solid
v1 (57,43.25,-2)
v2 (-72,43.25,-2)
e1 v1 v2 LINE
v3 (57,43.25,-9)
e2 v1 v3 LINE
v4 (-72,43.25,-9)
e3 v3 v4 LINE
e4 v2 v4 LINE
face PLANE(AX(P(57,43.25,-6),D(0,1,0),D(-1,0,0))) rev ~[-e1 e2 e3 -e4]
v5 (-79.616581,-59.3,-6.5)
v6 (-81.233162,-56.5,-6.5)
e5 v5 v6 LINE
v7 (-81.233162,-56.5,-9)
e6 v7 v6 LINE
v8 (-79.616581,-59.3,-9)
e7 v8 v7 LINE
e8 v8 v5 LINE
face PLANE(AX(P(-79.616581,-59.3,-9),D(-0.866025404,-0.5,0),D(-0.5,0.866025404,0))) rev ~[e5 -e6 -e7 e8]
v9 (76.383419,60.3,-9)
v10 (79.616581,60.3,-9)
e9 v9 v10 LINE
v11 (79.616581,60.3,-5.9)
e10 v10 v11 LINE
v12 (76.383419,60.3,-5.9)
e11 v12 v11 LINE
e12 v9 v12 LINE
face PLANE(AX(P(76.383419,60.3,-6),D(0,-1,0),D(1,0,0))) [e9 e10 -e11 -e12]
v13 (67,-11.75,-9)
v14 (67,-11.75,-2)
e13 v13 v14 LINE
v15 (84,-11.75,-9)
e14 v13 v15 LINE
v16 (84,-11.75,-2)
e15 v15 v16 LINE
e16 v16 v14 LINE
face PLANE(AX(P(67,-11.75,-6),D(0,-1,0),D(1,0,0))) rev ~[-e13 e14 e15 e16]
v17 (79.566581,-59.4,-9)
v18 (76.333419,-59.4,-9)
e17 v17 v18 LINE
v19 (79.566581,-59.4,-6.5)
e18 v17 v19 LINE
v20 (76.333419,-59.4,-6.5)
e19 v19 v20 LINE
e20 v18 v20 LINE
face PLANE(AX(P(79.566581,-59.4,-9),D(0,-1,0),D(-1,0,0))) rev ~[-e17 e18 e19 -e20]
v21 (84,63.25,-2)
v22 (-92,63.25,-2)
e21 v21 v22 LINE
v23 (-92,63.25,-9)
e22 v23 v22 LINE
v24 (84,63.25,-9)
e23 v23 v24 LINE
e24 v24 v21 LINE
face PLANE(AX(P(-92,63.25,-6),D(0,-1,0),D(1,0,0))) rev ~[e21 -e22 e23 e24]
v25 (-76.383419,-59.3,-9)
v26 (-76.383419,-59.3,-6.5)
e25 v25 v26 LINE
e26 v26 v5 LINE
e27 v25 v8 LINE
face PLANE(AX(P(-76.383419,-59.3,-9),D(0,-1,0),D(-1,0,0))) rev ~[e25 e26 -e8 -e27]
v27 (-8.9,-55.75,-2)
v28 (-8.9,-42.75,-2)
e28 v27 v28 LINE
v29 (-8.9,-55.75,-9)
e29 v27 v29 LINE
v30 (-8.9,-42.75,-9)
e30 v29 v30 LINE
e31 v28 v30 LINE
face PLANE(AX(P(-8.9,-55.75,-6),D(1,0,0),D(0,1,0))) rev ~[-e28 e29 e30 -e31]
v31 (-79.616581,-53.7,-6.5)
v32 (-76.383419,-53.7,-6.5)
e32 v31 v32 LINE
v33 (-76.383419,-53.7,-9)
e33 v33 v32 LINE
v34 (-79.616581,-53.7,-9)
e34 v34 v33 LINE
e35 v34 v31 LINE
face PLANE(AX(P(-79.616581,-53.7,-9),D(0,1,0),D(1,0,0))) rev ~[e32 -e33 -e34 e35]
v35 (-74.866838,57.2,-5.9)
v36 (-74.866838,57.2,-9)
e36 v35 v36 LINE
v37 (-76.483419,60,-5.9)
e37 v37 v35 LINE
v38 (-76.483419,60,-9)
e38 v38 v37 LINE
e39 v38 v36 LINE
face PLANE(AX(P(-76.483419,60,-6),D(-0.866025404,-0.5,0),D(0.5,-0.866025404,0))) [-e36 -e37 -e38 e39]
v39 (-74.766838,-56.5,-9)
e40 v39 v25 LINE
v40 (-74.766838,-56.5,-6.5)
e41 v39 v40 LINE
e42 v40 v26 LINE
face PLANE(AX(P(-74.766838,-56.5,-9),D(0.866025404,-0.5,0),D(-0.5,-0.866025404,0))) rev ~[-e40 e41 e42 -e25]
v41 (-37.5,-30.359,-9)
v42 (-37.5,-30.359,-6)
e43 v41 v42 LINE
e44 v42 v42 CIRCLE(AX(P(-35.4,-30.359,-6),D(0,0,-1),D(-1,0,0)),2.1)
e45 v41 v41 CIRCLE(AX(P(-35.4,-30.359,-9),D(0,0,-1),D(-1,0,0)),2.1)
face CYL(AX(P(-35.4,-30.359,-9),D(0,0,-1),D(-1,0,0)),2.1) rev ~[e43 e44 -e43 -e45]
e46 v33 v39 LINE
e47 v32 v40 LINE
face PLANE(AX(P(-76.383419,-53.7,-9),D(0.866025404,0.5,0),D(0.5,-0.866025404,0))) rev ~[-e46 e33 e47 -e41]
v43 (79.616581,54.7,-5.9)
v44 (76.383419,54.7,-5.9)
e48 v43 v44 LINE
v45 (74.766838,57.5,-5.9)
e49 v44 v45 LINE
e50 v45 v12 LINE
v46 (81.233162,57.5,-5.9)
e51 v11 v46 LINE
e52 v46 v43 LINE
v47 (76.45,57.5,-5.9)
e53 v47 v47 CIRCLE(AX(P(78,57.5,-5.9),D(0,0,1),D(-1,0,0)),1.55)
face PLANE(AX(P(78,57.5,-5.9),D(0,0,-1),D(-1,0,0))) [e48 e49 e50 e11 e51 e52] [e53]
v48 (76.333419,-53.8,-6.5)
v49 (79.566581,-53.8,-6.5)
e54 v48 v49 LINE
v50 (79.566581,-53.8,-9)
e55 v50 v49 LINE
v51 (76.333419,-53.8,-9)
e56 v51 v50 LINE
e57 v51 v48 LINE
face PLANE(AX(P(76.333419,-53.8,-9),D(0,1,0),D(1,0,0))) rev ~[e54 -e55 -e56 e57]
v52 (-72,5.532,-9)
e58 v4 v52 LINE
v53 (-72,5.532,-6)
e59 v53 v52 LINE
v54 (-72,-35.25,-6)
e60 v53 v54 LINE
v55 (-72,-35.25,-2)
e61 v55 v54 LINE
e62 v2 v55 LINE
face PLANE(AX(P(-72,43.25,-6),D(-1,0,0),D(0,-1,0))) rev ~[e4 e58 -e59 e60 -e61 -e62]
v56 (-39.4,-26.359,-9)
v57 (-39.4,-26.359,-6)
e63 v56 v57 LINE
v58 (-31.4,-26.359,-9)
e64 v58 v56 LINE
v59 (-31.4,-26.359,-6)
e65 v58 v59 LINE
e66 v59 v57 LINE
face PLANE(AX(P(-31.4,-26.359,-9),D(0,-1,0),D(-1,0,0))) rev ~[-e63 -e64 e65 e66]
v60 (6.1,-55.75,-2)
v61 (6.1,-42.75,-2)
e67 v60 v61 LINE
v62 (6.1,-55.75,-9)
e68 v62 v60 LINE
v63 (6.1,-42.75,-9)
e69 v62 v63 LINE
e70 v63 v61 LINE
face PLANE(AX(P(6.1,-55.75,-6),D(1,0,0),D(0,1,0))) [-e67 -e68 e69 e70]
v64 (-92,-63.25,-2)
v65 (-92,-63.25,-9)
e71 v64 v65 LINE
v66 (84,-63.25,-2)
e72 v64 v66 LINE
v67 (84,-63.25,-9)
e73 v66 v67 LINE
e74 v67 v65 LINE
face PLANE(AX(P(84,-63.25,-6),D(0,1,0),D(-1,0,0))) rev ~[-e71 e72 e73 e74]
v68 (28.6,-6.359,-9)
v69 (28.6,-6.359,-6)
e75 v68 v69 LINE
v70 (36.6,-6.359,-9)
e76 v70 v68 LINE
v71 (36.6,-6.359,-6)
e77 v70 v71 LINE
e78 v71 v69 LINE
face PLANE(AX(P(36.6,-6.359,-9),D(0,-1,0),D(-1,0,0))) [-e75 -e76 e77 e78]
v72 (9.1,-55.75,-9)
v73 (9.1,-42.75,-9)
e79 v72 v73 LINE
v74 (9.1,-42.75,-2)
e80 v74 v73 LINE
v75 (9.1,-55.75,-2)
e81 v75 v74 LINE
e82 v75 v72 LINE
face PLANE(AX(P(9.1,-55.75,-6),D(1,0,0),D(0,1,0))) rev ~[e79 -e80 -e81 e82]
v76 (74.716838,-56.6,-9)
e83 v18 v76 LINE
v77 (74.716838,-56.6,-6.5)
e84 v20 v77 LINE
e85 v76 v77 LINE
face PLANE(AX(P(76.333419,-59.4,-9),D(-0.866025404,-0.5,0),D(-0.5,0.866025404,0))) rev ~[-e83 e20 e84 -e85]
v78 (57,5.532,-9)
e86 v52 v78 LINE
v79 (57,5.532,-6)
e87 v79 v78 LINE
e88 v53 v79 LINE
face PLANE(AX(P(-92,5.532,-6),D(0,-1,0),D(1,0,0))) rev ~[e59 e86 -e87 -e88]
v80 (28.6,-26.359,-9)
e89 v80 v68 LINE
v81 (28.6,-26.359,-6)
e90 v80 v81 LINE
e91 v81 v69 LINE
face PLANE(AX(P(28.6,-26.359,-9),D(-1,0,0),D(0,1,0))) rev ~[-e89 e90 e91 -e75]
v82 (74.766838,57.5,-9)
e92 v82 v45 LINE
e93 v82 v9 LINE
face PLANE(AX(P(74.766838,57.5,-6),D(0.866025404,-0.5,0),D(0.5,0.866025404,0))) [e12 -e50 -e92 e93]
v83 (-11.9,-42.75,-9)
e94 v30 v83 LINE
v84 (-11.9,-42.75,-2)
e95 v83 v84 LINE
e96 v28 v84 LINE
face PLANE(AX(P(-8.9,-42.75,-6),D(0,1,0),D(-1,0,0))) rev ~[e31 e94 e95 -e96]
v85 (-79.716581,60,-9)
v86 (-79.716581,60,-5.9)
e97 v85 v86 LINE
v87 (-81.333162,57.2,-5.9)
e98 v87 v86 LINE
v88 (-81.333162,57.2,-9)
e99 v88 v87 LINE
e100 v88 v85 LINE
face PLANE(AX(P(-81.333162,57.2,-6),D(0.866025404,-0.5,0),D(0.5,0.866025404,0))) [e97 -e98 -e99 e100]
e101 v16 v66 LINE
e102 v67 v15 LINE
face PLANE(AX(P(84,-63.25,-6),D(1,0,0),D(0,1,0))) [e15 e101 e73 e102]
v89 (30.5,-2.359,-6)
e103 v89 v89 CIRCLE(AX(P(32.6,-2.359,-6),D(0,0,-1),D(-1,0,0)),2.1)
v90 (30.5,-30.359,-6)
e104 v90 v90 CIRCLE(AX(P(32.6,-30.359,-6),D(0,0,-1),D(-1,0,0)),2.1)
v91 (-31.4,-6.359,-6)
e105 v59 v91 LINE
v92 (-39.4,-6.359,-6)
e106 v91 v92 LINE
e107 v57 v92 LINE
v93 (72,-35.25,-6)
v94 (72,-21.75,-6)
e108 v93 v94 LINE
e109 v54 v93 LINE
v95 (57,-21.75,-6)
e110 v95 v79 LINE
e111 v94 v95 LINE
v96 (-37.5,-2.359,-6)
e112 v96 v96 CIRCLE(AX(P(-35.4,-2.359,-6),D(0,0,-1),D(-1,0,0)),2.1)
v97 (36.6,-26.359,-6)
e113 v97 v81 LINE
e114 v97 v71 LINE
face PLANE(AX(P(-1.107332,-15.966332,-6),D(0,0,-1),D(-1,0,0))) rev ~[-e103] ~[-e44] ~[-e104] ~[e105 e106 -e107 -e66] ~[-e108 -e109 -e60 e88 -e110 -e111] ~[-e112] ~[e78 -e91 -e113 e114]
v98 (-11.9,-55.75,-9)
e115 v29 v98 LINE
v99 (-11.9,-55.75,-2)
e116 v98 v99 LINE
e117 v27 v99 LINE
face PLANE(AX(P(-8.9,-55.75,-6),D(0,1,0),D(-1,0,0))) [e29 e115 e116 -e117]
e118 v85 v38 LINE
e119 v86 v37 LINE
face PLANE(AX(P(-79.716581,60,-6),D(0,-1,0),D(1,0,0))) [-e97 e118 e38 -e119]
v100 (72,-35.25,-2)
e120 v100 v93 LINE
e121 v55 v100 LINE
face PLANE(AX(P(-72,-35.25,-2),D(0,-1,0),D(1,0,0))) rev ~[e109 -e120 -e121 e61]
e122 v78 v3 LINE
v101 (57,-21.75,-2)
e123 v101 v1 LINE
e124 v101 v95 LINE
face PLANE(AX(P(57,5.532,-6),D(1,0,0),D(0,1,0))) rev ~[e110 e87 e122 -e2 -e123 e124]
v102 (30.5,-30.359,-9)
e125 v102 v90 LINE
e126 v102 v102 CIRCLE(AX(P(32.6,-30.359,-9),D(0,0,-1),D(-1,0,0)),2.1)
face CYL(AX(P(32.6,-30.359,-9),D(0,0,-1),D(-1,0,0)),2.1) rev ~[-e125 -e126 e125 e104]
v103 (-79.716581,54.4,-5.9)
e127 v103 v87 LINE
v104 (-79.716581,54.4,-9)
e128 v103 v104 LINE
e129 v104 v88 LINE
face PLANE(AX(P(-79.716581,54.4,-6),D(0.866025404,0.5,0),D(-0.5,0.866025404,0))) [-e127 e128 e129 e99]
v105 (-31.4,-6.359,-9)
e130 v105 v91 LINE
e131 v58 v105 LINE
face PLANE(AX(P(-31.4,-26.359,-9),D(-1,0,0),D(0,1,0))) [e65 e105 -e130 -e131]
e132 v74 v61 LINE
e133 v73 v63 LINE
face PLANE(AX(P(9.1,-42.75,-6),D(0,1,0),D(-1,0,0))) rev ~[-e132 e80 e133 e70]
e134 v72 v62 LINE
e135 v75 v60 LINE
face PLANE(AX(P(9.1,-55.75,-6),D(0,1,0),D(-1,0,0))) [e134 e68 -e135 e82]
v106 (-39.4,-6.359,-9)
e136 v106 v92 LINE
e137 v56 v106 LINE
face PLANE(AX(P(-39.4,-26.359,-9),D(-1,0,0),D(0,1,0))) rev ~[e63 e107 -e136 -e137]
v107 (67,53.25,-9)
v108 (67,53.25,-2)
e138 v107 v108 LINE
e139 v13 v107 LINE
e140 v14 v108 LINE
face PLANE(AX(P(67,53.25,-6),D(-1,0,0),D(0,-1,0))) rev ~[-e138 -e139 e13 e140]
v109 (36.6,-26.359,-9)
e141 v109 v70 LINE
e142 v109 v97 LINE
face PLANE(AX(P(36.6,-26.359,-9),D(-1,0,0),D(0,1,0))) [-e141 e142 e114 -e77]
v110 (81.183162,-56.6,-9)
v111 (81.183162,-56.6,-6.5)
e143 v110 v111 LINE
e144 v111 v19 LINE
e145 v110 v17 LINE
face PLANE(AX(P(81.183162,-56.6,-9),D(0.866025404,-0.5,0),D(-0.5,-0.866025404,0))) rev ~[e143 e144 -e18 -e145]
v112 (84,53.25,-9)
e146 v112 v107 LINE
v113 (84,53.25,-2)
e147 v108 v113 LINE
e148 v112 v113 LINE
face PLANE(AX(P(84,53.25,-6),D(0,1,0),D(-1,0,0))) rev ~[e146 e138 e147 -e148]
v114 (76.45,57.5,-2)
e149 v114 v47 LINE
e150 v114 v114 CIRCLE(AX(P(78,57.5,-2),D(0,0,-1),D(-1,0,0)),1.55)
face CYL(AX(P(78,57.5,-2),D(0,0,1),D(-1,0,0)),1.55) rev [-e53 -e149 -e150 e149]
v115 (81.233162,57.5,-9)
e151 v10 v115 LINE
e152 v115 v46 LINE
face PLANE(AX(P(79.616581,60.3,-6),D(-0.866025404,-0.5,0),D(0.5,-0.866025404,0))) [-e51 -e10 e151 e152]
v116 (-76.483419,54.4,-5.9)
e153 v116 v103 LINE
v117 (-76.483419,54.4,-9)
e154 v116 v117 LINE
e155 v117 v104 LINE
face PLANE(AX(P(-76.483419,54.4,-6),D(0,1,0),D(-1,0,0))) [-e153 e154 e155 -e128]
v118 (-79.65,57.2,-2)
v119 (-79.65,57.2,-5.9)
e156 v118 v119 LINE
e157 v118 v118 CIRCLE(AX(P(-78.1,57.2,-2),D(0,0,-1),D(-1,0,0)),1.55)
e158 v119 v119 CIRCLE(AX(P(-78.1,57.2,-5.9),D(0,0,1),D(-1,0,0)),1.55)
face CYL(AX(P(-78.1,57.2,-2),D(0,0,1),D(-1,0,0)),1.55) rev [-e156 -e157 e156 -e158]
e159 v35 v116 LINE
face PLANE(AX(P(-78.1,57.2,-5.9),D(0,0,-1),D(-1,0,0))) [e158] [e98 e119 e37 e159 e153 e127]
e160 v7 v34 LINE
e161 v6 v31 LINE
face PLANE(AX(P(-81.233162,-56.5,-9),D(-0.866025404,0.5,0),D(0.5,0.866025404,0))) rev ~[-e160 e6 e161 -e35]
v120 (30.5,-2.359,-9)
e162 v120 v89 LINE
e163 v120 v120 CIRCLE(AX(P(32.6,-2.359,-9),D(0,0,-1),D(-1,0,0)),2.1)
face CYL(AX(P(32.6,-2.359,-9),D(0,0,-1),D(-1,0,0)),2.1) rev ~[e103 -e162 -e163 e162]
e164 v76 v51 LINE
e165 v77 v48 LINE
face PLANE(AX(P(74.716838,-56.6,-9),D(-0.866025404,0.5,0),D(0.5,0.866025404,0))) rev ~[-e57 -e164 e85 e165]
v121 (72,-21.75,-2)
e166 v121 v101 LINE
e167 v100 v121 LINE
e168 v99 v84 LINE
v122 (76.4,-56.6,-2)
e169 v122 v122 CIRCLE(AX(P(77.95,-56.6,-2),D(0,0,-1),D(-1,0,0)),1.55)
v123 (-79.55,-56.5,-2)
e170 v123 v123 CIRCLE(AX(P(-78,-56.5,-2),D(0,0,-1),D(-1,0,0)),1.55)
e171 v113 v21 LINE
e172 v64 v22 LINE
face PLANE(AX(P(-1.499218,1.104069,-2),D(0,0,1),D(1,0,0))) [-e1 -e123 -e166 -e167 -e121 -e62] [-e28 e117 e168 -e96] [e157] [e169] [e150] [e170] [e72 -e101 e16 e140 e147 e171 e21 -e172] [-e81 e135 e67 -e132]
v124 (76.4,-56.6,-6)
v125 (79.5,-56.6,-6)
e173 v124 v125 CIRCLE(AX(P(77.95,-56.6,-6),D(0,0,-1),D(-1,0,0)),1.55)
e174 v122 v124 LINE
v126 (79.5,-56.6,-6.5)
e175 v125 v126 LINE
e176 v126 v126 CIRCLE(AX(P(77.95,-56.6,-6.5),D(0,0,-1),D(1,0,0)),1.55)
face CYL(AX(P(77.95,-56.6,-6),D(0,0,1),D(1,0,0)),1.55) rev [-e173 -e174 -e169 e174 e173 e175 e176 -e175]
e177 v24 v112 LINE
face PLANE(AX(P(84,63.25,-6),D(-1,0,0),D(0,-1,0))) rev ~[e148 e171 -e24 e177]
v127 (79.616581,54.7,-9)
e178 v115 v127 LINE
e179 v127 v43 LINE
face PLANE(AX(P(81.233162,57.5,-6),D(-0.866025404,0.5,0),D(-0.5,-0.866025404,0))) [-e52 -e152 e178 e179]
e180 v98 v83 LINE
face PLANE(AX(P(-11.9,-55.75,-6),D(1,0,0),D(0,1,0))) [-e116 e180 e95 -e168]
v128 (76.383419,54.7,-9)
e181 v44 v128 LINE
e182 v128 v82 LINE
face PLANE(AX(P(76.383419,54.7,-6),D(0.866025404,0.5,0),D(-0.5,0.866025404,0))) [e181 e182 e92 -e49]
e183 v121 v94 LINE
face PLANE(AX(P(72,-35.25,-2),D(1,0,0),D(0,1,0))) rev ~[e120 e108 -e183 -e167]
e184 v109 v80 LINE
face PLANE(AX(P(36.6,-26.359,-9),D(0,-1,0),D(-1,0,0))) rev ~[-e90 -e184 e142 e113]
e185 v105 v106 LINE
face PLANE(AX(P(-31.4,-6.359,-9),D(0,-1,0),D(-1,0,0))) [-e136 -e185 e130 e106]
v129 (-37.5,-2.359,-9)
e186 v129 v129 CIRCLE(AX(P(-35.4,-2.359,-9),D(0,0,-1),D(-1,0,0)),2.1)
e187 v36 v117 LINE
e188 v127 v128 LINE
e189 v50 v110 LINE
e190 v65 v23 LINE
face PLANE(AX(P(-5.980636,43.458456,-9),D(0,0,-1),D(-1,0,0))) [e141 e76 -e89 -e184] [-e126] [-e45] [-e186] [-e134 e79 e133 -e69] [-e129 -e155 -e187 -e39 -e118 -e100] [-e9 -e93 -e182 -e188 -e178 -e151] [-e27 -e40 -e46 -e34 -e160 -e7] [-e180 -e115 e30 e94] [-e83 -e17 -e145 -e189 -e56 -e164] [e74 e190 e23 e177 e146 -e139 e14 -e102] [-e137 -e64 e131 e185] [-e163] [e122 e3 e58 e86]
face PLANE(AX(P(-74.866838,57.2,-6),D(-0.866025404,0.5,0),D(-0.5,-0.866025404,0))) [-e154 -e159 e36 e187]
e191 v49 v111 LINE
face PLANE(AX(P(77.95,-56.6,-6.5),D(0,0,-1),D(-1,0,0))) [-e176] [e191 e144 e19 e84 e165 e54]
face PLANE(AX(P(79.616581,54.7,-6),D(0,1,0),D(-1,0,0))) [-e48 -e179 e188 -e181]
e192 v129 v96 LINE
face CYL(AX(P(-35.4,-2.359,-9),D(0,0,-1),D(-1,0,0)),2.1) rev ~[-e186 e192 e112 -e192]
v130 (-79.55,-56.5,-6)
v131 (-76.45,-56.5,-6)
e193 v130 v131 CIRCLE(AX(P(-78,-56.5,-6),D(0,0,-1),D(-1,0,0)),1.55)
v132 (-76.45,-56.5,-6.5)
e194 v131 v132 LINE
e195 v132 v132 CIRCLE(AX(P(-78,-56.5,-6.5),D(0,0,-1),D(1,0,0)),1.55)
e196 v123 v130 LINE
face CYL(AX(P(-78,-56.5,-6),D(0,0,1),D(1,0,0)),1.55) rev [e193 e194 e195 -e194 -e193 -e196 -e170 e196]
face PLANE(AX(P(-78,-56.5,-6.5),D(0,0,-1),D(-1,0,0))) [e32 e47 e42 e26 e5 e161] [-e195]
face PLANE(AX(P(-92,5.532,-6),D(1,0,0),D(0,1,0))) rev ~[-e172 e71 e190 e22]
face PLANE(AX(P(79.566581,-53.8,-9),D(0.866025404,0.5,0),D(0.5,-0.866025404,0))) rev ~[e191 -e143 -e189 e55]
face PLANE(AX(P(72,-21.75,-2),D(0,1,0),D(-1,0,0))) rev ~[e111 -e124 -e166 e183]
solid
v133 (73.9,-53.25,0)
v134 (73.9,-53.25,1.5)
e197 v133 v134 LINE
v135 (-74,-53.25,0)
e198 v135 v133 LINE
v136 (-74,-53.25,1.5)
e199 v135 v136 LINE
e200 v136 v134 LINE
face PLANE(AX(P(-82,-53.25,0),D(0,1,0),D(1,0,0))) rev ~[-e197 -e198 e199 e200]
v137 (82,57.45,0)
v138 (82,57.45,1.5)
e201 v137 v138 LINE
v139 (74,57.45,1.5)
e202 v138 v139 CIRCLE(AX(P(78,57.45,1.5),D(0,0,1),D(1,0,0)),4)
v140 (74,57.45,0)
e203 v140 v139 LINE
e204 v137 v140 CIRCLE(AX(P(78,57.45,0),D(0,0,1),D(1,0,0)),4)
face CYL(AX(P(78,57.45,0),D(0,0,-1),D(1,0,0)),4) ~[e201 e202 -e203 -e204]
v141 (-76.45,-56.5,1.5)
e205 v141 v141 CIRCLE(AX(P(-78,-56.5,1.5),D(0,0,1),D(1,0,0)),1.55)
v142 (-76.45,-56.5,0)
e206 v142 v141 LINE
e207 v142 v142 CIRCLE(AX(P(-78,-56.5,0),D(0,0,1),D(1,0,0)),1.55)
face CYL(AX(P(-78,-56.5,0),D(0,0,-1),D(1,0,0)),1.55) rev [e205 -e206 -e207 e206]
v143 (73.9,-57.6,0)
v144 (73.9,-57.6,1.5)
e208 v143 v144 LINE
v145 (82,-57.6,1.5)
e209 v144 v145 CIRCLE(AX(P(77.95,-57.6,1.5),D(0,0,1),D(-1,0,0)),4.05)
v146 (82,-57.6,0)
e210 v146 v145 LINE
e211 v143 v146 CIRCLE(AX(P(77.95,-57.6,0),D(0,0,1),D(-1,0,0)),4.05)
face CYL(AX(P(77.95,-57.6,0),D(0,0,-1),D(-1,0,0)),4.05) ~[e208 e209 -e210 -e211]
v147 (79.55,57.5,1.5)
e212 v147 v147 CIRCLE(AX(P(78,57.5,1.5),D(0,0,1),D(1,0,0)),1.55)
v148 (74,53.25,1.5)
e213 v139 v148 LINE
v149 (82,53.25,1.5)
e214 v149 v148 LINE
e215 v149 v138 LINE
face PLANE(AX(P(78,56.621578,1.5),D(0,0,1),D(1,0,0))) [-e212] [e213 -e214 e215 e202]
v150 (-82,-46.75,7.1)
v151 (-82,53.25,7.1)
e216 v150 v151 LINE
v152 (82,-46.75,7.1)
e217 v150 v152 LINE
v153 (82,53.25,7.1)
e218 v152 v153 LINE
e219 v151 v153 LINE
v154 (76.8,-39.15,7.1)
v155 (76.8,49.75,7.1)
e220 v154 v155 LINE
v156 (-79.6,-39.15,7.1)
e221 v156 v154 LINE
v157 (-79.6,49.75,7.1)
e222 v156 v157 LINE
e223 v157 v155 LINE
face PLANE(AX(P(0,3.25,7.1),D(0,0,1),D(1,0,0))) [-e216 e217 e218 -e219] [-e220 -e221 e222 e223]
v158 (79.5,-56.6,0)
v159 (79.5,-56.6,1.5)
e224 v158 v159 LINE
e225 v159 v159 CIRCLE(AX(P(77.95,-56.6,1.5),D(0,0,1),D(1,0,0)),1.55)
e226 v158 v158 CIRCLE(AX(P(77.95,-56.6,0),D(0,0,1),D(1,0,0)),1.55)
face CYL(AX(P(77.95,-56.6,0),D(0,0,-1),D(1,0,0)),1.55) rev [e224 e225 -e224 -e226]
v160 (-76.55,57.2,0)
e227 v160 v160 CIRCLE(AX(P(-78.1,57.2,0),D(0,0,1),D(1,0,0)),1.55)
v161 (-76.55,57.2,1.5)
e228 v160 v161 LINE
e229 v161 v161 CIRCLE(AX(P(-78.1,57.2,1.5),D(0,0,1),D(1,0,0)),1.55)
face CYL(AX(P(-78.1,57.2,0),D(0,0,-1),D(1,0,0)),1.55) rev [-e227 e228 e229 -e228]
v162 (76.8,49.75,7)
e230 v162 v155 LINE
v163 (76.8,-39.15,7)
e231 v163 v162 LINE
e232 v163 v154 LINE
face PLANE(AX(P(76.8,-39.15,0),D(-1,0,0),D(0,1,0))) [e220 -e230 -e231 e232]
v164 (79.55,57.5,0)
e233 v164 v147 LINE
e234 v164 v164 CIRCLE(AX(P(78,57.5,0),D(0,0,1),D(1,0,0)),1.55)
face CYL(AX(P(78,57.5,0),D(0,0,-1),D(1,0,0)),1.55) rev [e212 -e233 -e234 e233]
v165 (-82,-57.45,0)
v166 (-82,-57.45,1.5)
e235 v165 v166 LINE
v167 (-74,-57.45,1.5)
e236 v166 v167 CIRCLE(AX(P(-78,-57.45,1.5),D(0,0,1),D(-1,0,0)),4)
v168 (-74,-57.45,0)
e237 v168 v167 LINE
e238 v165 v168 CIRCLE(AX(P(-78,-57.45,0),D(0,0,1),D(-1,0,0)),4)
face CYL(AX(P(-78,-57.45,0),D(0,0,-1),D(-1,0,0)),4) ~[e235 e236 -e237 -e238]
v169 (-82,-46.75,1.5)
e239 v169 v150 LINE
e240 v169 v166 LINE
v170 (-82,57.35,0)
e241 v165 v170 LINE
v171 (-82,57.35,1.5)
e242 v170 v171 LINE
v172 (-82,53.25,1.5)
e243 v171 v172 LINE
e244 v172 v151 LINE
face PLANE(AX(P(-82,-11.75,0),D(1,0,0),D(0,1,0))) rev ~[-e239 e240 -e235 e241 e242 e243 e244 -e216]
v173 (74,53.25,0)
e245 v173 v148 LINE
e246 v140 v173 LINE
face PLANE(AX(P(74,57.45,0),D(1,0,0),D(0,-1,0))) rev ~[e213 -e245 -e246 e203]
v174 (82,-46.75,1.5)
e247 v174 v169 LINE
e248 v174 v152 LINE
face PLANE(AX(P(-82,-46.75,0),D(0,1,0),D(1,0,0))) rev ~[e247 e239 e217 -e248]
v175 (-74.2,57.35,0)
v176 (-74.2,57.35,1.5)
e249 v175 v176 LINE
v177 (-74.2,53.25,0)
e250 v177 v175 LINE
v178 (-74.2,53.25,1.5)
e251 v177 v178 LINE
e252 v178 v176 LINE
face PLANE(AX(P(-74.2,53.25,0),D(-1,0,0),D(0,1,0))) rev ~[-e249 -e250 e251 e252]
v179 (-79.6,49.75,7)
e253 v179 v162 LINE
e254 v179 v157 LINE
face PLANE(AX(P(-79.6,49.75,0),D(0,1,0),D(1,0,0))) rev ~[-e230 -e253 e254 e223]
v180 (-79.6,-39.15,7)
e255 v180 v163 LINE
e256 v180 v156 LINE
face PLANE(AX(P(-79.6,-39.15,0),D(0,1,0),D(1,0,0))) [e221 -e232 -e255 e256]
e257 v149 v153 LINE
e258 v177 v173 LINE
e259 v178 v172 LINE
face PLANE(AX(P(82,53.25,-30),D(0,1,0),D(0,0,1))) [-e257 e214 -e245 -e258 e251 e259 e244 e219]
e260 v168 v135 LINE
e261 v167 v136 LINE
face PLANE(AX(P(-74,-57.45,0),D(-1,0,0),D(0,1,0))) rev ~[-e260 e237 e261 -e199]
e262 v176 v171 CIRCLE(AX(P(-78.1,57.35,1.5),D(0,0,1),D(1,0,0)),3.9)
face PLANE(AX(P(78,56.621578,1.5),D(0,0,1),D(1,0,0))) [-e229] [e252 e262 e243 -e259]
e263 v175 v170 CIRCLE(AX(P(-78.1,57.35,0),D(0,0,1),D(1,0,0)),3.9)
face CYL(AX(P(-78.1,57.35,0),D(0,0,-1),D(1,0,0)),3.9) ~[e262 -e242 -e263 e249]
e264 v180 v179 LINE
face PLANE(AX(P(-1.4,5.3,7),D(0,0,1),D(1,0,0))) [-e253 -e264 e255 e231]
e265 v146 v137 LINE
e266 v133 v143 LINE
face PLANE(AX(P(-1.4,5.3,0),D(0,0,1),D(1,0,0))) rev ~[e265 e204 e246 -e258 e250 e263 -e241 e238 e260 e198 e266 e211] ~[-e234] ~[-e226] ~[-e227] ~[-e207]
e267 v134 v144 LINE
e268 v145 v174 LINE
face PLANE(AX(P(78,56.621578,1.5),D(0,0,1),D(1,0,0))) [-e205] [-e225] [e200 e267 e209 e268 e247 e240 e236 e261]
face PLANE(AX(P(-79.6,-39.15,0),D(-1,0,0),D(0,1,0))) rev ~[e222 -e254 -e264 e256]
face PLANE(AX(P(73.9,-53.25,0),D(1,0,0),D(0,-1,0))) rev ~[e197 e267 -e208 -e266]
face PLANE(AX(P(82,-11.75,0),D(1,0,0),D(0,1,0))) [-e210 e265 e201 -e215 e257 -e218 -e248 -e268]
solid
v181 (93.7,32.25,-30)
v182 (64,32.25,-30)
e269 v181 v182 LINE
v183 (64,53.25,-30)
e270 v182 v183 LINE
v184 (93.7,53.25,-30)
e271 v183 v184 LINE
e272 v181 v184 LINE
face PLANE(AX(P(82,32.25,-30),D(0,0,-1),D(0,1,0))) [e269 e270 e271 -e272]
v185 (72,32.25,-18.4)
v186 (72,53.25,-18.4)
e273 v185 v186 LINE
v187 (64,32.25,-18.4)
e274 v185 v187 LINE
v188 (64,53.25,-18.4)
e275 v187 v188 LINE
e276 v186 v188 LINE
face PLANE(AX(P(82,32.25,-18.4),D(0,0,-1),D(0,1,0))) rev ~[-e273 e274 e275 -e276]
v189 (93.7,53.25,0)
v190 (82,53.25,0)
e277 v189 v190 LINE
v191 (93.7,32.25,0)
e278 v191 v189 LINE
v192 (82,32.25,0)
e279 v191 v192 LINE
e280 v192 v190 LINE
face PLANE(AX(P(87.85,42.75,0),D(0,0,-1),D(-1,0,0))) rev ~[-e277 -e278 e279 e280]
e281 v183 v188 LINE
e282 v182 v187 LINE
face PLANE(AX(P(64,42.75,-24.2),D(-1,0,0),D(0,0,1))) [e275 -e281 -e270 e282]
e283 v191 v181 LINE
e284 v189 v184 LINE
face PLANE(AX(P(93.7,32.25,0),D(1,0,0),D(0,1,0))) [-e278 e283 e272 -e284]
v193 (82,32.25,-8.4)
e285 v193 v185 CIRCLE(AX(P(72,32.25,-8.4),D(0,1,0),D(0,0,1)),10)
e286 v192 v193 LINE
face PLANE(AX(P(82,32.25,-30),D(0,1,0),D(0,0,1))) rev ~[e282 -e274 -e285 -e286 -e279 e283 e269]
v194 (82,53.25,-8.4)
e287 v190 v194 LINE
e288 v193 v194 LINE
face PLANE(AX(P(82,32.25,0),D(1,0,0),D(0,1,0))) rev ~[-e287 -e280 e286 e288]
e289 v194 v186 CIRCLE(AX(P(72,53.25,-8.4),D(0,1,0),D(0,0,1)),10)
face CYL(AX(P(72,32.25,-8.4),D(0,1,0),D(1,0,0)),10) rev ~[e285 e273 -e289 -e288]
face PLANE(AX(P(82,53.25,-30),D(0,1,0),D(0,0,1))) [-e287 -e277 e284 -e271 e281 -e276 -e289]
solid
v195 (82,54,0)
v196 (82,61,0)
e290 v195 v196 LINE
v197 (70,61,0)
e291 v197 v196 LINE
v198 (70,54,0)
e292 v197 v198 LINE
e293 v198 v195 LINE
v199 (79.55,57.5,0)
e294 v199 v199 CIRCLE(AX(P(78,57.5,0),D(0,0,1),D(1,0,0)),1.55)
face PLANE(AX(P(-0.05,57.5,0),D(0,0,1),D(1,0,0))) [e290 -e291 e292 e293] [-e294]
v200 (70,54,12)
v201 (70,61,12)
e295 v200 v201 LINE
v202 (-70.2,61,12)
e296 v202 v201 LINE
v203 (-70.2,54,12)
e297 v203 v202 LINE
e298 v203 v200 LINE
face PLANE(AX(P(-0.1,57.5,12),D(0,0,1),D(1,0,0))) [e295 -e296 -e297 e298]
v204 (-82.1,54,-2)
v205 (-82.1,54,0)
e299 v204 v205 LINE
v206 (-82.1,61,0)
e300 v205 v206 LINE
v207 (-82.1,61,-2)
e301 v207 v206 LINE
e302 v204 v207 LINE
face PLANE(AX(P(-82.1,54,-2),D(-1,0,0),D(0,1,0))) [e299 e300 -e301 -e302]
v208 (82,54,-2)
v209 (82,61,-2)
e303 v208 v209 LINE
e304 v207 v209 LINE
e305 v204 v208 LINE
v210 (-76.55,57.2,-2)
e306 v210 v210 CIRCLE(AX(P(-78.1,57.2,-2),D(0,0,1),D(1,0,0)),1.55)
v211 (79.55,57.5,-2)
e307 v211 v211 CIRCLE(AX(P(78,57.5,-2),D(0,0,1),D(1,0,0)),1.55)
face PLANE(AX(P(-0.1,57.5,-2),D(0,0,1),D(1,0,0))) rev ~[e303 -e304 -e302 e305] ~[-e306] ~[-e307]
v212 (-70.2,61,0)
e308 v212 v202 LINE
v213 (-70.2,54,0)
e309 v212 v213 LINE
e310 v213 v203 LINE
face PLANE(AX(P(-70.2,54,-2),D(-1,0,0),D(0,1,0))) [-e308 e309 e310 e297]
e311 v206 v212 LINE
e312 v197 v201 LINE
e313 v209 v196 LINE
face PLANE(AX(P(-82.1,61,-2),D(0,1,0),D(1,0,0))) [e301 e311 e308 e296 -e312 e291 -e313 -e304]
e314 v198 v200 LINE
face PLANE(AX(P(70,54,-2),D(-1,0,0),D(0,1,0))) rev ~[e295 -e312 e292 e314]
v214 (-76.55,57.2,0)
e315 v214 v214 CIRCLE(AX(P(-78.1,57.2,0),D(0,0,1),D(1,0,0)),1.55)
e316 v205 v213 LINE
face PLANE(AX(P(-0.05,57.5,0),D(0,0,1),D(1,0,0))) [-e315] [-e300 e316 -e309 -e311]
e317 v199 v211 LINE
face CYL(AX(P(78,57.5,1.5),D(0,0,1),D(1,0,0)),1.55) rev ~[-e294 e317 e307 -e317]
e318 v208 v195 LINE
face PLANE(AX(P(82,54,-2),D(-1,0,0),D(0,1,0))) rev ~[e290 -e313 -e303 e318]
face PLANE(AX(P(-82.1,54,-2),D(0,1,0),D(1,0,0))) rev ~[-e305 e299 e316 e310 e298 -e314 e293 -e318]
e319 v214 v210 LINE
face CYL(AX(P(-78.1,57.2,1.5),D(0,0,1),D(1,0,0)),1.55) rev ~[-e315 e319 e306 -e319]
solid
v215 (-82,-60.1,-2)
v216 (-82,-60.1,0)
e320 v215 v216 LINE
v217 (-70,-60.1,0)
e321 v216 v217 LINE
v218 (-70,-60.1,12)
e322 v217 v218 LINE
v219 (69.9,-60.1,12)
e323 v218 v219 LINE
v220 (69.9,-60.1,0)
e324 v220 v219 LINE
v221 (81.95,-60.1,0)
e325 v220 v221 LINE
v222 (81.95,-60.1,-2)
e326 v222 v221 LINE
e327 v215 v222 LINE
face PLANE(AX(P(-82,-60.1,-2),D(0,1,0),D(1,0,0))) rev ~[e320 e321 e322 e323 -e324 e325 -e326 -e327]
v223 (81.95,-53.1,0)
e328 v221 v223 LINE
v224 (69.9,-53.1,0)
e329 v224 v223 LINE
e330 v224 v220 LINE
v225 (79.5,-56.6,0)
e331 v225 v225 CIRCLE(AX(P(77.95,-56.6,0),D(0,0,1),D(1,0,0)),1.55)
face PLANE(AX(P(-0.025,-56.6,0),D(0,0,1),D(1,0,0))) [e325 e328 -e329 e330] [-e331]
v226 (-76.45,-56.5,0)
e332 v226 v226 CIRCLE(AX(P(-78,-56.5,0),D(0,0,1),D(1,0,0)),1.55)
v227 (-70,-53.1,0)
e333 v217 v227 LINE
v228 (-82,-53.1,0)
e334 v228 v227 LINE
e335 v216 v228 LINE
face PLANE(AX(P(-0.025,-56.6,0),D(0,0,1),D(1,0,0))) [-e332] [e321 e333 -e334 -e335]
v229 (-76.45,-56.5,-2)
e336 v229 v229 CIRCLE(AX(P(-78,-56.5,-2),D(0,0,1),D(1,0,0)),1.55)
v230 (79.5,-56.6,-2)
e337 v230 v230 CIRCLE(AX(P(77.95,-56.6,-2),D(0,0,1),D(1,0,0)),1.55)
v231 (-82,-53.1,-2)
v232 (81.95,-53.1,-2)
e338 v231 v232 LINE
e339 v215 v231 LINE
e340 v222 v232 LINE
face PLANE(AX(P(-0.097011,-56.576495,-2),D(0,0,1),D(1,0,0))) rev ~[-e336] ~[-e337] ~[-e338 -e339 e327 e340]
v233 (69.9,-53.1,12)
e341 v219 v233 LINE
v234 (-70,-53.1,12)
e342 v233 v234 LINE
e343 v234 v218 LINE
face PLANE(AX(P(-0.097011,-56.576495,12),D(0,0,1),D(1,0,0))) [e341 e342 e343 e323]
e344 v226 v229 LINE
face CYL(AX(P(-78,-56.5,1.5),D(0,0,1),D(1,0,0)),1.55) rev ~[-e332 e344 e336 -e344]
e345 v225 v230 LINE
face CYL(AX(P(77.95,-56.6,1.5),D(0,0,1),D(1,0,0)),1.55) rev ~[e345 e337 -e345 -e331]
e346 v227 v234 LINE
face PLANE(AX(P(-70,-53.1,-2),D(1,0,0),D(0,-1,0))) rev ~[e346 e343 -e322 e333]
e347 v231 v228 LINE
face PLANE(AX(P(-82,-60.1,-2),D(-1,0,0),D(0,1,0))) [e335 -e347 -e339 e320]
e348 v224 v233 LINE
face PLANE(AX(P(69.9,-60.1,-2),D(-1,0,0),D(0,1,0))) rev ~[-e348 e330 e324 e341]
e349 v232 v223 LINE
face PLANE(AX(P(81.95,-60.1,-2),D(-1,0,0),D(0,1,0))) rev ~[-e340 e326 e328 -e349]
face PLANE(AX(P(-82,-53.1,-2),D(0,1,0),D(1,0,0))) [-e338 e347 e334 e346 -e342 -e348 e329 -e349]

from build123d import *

# Parameters (mm, degrees)
SKETCH1_W             = 164
SKETCH1_H             = 106.5
SKETCH1_R             = 1.55
BOSS_EXTRUDE1_DEPTH   = 1.5
BOSS_EXTRUDE2_START   = -1.5
SKETCH3_W             = 164
SKETCH3_H             = 100
SKETCH3_W_2           = 156.4
SKETCH3_H_2           = 88.9
BOSS_EXTRUDE2_DEPTH   = 7.1
BOSS_EXTRUDE3_START   = -1.5
SKETCH3_2_W           = 156.4
SKETCH3_2_H           = 88.9
BOSS_EXTRUDE3_DEPTH   = 7
SKETCH4_W             = 164
SKETCH4_H             = 65
BOSS_EXTRUDE4_DEPTH   = 6
SKETCH5_W             = 11.7
SKETCH5_H             = 21
BOSS_EXTRUDE5_DEPTH   = 30
SKETCH6_W             = 11.6
SKETCH6_H             = 21
BOSS_EXTRUDE6_DEPTH   = 18
FILLET1_R             = 10
BOSS_EXTRUDE7_START   = 2
SKETCH7_R             = 1.55
SKETCH7_W             = 3
SKETCH7_H             = 13
BOSS_EXTRUDE7_DEPTH   = 4
CUT_EXTRUDE2_DEPTH    = 6
SKETCH11_W            = 176
SKETCH11_H            = 25
SKETCH11_R            = 1.55
SKETCH11_W_2          = 3
SKETCH11_H_2          = 13
BOSS_EXTRUDE8_DEPTH   = 3
SKETCH12_W            = 8
SKETCH12_H            = 20
CUT_EXTRUDE3_DEPTH    = 3
SKETCH13_R            = 2.1
CUT_EXTRUDE4_DEPTH    = 3
SKETCH14_W            = 164.1
SKETCH14_H            = 7
BOSS_EXTRUDE9_DEPTH   = 2
SKETCH14_W_2          = 163.95
BOSS_EXTRUDE9_2_DEPTH = 2
SKETCH14_3_W          = 140.2
SKETCH14_3_H          = 7
SKETCH14_3_W_2        = 3
SKETCH14_3_H_2        = 2.65
BOSS_EXTRUDE10_DEPTH  = 14
SKETCH15_R            = 1.55
CUT_EXTRUDE5_DEPTH    = 2.5
CUT_EXTRUDE6_DEPTH    = 3.1
SKETCH16_R            = 1.55
CUT_EXTRUDE7_DEPTH    = 10
BOSS_EXTRUDE12_DEPTH  = 3


with BuildPart() as part:
    # Sketch1 → Boss-Extrude1 (new body)
    # profile 1 of 5: a face of its own
    with BuildSketch(Plane.XY):
        Rectangle(SKETCH1_W, SKETCH1_H)
    # profile 2 of 5: a face of its own
    with BuildSketch(Plane.XY):
        with BuildLine():
            Line((-74, -53.25), (-82, -53.25))
            Line((-82, -53.25), (-82, -57.45))
            ThreePointArc((-82, -57.45), (-78, -61.45), (-74, -57.45))
            Line((-74, -57.45), (-74, -53.25))
        make_face()
        with Locations((-78, -56.5)):
            Circle(SKETCH1_R, mode=Mode.SUBTRACT)
    # profile 3 of 5: a face of its own
    with BuildSketch(Plane.XY):
        with BuildLine():
            Line((82, -53.25), (73.9, -53.25))
            Line((73.9, -53.25), (73.9, -57.6))
            ThreePointArc((73.9, -57.6), (77.95, -61.65), (82, -57.6))
            Line((82, -57.6), (82, -53.25))
        make_face()
        with Locations((77.95, -56.6)):
            Circle(SKETCH1_R, mode=Mode.SUBTRACT)
    # profile 4 of 5: a face of its own
    with BuildSketch(Plane.XY):
        with BuildLine():
            Line((-82, 57.35), (-82, 53.25))
            Line((-82, 53.25), (-74.2, 53.25))
            Line((-74.2, 53.25), (-74.2, 57.35))
            ThreePointArc((-74.2, 57.35), (-78.1, 61.25), (-82, 57.35))
        make_face()
        with Locations((-78.1, 57.2)):
            Circle(SKETCH1_R, mode=Mode.SUBTRACT)
    # profile 5 of 5: a face of its own
    with BuildSketch(Plane.XY):
        with BuildLine():
            Line((74, 57.45), (74, 53.25))
            Line((74, 53.25), (82, 53.25))
            Line((82, 53.25), (82, 57.45))
            ThreePointArc((82, 57.45), (78, 61.45), (74, 57.45))
        make_face()
        with Locations((78, 57.5)):
            Circle(SKETCH1_R, mode=Mode.SUBTRACT)
    extrude(amount=BOSS_EXTRUDE1_DEPTH)

    # Sketch3 → Boss-Extrude2 (add)
    with BuildSketch(Plane.XY.offset(1.5).offset(BOSS_EXTRUDE2_START)):
        with Locations((0, 3.25)):
            Rectangle(SKETCH3_W, SKETCH3_H)
        with Locations((-1.4, 5.3)):
            Rectangle(SKETCH3_W_2, SKETCH3_H_2, mode=Mode.SUBTRACT)
    extrude(amount=BOSS_EXTRUDE2_DEPTH)

    # Sketch3<2> → Boss-Extrude3 (add)
    with BuildSketch(Plane.XY.offset(1.5).offset(BOSS_EXTRUDE3_START)):
        with Locations((-1.4, 5.3)):
            Rectangle(SKETCH3_2_W, SKETCH3_2_H)
    extrude(amount=BOSS_EXTRUDE3_DEPTH)

    # Sketch4 → Boss-Extrude4 (add)
    with BuildSketch(Plane(origin=(0, 0, 0), x_dir=(-1, 0, 0), z_dir=(0, 0, -1))):
        with Locations((0, 20.75)):
            Rectangle(SKETCH4_W, SKETCH4_H)
    extrude(amount=BOSS_EXTRUDE4_DEPTH)

    # Sketch5 → Boss-Extrude5 (add)
    with BuildSketch(Plane(origin=(0, 0, 0), x_dir=(-1, 0, 0), z_dir=(0, 0, -1))):
        with Locations((-87.85, 42.75)):
            Rectangle(SKETCH5_W, SKETCH5_H)
    extrude(amount=BOSS_EXTRUDE5_DEPTH)

    # Sketch6 → Boss-Extrude6 (add)
    with BuildSketch(Plane.ZY.offset(-82)):
        with Locations((-24.2, 42.75)):
            Rectangle(SKETCH6_W, SKETCH6_H)
    extrude(amount=BOSS_EXTRUDE6_DEPTH)

    # Fillet1
    fillet1_edges = [part.edges().sort_by_distance(p)[0] for p in [
        (82, 42.75, -18.4),
    ]]
    fillet(fillet1_edges, radius=FILLET1_R)

    # Sketch8 → Cut-Extrude2 (cut)
    with BuildSketch(Plane(origin=(0, 0, -6), x_dir=(-1, 0, 0), z_dir=(0, 0, -1))):
        Polygon((-82, 53.25), (-82, 32.25), (-82, -11.75), (82, -11.75), (82, 53.25), align=None)
    extrude(amount=-CUT_EXTRUDE2_DEPTH, mode=Mode.SUBTRACT)


with BuildPart() as body_2:
    # Sketch7 → Boss-Extrude7 (new body)
    with BuildSketch(Plane(origin=(0, 0, 0), x_dir=(-1, 0, 0), z_dir=(0, 0, -1)).offset(BOSS_EXTRUDE7_START)):
        Polygon((-84, 63.25), (92, 63.25), (92, 18.282419046), (92, -63.25), (-84, -63.25), (-84, -39.97849009), (-84, -11.75), (-67, -11.75), (-67, 53.25), (-84, 53.25), align=None)
        with Locations((78.1, 57.2)):
            Circle(SKETCH7_R, mode=Mode.SUBTRACT)
        with Locations((78, -56.5)):
            Circle(SKETCH7_R, mode=Mode.SUBTRACT)
        with Locations((-77.95, -56.6)):
            Circle(SKETCH7_R, mode=Mode.SUBTRACT)
        with Locations((-78, 57.5)):
            Circle(SKETCH7_R, mode=Mode.SUBTRACT)
        Polygon((-57, 43.25), (72, 43.25), (72, -35.25), (-72, -35.25), (-72, -21.75), (-57, -21.75), align=None, mode=Mode.SUBTRACT)
        with Locations((-7.6, -49.25)):
            Rectangle(SKETCH7_W, SKETCH7_H, mode=Mode.SUBTRACT)
        with Locations((10.4, -49.25)):
            Rectangle(SKETCH7_W, SKETCH7_H, mode=Mode.SUBTRACT)
    extrude(amount=BOSS_EXTRUDE7_DEPTH)

    # Sketch11 → Boss-Extrude8 (add)
    # profile 1 of 3: a face of its own
    with BuildSketch(Plane(origin=(0, 0, -6), x_dir=(-1, 0, 0), z_dir=(0, 0, -1))):
        with Locations((4, -50.75)):
            Rectangle(SKETCH11_W, SKETCH11_H)
        with Locations(Location((-77.95, -56.6, 0), (0, 0, 180))):
            Circle(SKETCH11_R, mode=Mode.SUBTRACT)
        with Locations((-7.6, -49.25)):
            Rectangle(SKETCH11_W_2, SKETCH11_H_2, mode=Mode.SUBTRACT)
        with Locations((10.4, -49.25)):
            Rectangle(SKETCH11_W_2, SKETCH11_H_2, mode=Mode.SUBTRACT)
        with Locations(Location((78, -56.5, 0), (0, 0, 180))):
            Circle(SKETCH11_R, mode=Mode.SUBTRACT)
    # profile 2 of 3: a face of its own
    with BuildSketch(Plane(origin=(0, 0, -6), x_dir=(-1, 0, 0), z_dir=(0, 0, -1))):
        Polygon((-84, -11.75), (-84, -38.25), (92, -38.25), (92, 5.532), (72, 5.532), (72, -35.25), (-72, -35.25), (-72, -21.75), (-57, -21.75), (-57, 5.532), (-67, 5.532), (-67, -11.75), align=None)
    # profile 3 of 3: a face of its own
    with BuildSketch(Plane(origin=(0, 0, -6), x_dir=(-1, 0, 0), z_dir=(0, 0, -1))):
        Polygon((72, -35.25), (72, 5.532), (-57, 5.532), (-57, -21.75), (-72, -21.75), (-72, -35.25), align=None)
    extrude(amount=BOSS_EXTRUDE8_DEPTH)

    # Sketch12 → Cut-Extrude3 (cut)
    with BuildSketch(Plane(origin=(0, 0, -9), x_dir=(-1, 0, 0), z_dir=(0, 0, -1))):
        with Locations((-32.6, -16.359)):
            Rectangle(SKETCH12_W, SKETCH12_H)
        with Locations((35.4, -16.359)):
            Rectangle(SKETCH12_W, SKETCH12_H)
    extrude(amount=-CUT_EXTRUDE3_DEPTH, mode=Mode.SUBTRACT)

    # Sketch13 → Cut-Extrude4 (cut)
    with BuildSketch(Plane(origin=(0, 0, -9), x_dir=(-1, 0, 0), z_dir=(0, 0, -1))):
        with Locations((-32.6, -2.359)):
            Circle(SKETCH13_R)
        with Locations((35.4, -2.359)):
            Circle(SKETCH13_R)
        with Locations((35.4, -30.359)):
            Circle(SKETCH13_R)
        with Locations((-32.6, -30.359)):
            Circle(SKETCH13_R)
    extrude(amount=-CUT_EXTRUDE4_DEPTH, mode=Mode.SUBTRACT)

    # Sketch15 → Cut-Extrude5 (cut)
    # profile 1 of 2: a face of its own
    with BuildSketch(Plane(origin=(0, 0, -9), x_dir=(-1, 0, 0), z_dir=(0, 0, -1))):
        Polygon((79.616580754, -53.7), (76.383419246, -53.7), (74.766838493, -56.5), (76.383419246, -59.3), (79.616580754, -59.3), (81.233161507, -56.5), align=None)
        with Locations(Location((78, -56.5, 0), (0, 0, 180))):
            Circle(SKETCH15_R, mode=Mode.SUBTRACT)
    # profile 2 of 2: a face of its own
    with BuildSketch(Plane(origin=(0, 0, -9), x_dir=(-1, 0, 0), z_dir=(0, 0, -1))):
        Polygon((-76.333419246, -59.4), (-74.716838493, -56.6), (-76.333419246, -53.8), (-79.566580754, -53.8), (-81.183161507, -56.6), (-79.566580754, -59.4), align=None)
    extrude(amount=-CUT_EXTRUDE5_DEPTH, mode=Mode.SUBTRACT)

    # Sketch15<3> → Cut-Extrude6 (cut)
    with BuildSketch(Plane(origin=(0, 0, -9), x_dir=(-1, 0, 0), z_dir=(0, 0, -1))):
        Polygon((-74.766838493, 57.5), (-76.383419246, 60.3), (-79.616580754, 60.3), (-81.233161507, 57.5), (-79.616580754, 54.7), (-76.383419246, 54.7), align=None)
        Polygon((74.866838493, 57.2), (76.483419246, 54.4), (79.716580754, 54.4), (81.333161507, 57.2), (79.716580754, 60), (76.483419246, 60), align=None)
    extrude(amount=-CUT_EXTRUDE6_DEPTH, mode=Mode.SUBTRACT)

    # Sketch17 → Boss-Extrude12 (add)
    with BuildSketch(Plane(origin=(0, 0, -6), x_dir=(-1, 0, 0), z_dir=(0, 0, -1))):
        Polygon((-67, 53.25), (-67, 5.532), (-57, 5.532), (-57, 43.25), (72, 43.25), (72, 5.532), (92, 5.532), (92, 63.25), (-84, 63.25), (-84, 53.25), align=None)
        Polygon((79.716580754, 54.4), (81.333161507, 57.2), (79.716580754, 60), (76.483419246, 60), (74.866838493, 57.2), (76.483419246, 54.4), align=None, mode=Mode.SUBTRACT)
        Polygon((-76.383419246, 54.7), (-74.766838493, 57.5), (-76.383419246, 60.3), (-79.616580754, 60.3), (-81.233161507, 57.5), (-79.616580754, 54.7), align=None, mode=Mode.SUBTRACT)
    extrude(amount=BOSS_EXTRUDE12_DEPTH)


with BuildPart() as cut_extrude2_piece_1:
    # of the separate pieces the step leaves, piece 1, a body of its own (cut_extrude2_pieces)
    add(part.part.solids().sort_by_distance((-82, -57.45, 0))[0])


with BuildPart() as cut_extrude2_piece_2:
    # of the separate pieces the step leaves, piece 2, a body of its own (cut_extrude2_pieces)
    add(part.part.solids().sort_by_distance((72, 53.25, -18.4))[0])


with BuildPart() as body_4:
    # Sketch14 → Boss-Extrude9 (new body)
    with BuildSketch(Plane.XY.offset(-2)):
        with Locations((-0.05, 57.5)):
            Rectangle(SKETCH14_W, SKETCH14_H)
    extrude(amount=BOSS_EXTRUDE9_DEPTH)



with BuildPart() as body_5:
    # Sketch14 → Boss-Extrude9 2 (new body)
    with BuildSketch(Plane.XY.offset(-2)):
        with Locations((-0.025, -56.6)):
            Rectangle(SKETCH14_W_2, SKETCH14_H)
    extrude(amount=BOSS_EXTRUDE9_2_DEPTH)


with BuildPart() as body_4_1:
    add(body_4.part)

    add(body_5.part)  # Boss-Extrude10 merges body 5
    # Sketch14<3> → Boss-Extrude10 (add)
    with BuildSketch(Plane.XY.offset(-2)):
        with Locations((-0.1, 57.5)):
            Rectangle(SKETCH14_3_W, SKETCH14_3_H)
        Polygon((-11.9, -53.1), (-70, -53.1), (-70, -60.1), (69.9, -60.1), (69.9, -53.1), (9.1, -53.1), (9.1, -55.75), (6.1, -55.75), (6.1, -53.1), (-8.9, -53.1), (-8.9, -55.75), (-11.9, -55.75), align=None)
        with Locations((-10.4, -54.425)):
            Rectangle(SKETCH14_3_W_2, SKETCH14_3_H_2)
        with Locations((7.6, -54.425)):
            Rectangle(SKETCH14_3_W_2, SKETCH14_3_H_2)
    extrude(amount=BOSS_EXTRUDE10_DEPTH)

    # Sketch16 → Cut-Extrude7 (cut)
    with BuildSketch(Plane.XY.offset(1.5)):
        with Locations((-78, -56.5)):
            Circle(SKETCH16_R)
        with Locations((77.95, -56.6)):
            Circle(SKETCH16_R)
        with Locations((78, 57.5)):
            Circle(SKETCH16_R)
        with Locations((-78.1, 57.2)):
            Circle(SKETCH16_R)
    extrude(amount=-CUT_EXTRUDE7_DEPTH, mode=Mode.SUBTRACT)


solid = Compound([body_2.part, cut_extrude2_piece_1.part, cut_extrude2_piece_2.part, body_4_1.part])
